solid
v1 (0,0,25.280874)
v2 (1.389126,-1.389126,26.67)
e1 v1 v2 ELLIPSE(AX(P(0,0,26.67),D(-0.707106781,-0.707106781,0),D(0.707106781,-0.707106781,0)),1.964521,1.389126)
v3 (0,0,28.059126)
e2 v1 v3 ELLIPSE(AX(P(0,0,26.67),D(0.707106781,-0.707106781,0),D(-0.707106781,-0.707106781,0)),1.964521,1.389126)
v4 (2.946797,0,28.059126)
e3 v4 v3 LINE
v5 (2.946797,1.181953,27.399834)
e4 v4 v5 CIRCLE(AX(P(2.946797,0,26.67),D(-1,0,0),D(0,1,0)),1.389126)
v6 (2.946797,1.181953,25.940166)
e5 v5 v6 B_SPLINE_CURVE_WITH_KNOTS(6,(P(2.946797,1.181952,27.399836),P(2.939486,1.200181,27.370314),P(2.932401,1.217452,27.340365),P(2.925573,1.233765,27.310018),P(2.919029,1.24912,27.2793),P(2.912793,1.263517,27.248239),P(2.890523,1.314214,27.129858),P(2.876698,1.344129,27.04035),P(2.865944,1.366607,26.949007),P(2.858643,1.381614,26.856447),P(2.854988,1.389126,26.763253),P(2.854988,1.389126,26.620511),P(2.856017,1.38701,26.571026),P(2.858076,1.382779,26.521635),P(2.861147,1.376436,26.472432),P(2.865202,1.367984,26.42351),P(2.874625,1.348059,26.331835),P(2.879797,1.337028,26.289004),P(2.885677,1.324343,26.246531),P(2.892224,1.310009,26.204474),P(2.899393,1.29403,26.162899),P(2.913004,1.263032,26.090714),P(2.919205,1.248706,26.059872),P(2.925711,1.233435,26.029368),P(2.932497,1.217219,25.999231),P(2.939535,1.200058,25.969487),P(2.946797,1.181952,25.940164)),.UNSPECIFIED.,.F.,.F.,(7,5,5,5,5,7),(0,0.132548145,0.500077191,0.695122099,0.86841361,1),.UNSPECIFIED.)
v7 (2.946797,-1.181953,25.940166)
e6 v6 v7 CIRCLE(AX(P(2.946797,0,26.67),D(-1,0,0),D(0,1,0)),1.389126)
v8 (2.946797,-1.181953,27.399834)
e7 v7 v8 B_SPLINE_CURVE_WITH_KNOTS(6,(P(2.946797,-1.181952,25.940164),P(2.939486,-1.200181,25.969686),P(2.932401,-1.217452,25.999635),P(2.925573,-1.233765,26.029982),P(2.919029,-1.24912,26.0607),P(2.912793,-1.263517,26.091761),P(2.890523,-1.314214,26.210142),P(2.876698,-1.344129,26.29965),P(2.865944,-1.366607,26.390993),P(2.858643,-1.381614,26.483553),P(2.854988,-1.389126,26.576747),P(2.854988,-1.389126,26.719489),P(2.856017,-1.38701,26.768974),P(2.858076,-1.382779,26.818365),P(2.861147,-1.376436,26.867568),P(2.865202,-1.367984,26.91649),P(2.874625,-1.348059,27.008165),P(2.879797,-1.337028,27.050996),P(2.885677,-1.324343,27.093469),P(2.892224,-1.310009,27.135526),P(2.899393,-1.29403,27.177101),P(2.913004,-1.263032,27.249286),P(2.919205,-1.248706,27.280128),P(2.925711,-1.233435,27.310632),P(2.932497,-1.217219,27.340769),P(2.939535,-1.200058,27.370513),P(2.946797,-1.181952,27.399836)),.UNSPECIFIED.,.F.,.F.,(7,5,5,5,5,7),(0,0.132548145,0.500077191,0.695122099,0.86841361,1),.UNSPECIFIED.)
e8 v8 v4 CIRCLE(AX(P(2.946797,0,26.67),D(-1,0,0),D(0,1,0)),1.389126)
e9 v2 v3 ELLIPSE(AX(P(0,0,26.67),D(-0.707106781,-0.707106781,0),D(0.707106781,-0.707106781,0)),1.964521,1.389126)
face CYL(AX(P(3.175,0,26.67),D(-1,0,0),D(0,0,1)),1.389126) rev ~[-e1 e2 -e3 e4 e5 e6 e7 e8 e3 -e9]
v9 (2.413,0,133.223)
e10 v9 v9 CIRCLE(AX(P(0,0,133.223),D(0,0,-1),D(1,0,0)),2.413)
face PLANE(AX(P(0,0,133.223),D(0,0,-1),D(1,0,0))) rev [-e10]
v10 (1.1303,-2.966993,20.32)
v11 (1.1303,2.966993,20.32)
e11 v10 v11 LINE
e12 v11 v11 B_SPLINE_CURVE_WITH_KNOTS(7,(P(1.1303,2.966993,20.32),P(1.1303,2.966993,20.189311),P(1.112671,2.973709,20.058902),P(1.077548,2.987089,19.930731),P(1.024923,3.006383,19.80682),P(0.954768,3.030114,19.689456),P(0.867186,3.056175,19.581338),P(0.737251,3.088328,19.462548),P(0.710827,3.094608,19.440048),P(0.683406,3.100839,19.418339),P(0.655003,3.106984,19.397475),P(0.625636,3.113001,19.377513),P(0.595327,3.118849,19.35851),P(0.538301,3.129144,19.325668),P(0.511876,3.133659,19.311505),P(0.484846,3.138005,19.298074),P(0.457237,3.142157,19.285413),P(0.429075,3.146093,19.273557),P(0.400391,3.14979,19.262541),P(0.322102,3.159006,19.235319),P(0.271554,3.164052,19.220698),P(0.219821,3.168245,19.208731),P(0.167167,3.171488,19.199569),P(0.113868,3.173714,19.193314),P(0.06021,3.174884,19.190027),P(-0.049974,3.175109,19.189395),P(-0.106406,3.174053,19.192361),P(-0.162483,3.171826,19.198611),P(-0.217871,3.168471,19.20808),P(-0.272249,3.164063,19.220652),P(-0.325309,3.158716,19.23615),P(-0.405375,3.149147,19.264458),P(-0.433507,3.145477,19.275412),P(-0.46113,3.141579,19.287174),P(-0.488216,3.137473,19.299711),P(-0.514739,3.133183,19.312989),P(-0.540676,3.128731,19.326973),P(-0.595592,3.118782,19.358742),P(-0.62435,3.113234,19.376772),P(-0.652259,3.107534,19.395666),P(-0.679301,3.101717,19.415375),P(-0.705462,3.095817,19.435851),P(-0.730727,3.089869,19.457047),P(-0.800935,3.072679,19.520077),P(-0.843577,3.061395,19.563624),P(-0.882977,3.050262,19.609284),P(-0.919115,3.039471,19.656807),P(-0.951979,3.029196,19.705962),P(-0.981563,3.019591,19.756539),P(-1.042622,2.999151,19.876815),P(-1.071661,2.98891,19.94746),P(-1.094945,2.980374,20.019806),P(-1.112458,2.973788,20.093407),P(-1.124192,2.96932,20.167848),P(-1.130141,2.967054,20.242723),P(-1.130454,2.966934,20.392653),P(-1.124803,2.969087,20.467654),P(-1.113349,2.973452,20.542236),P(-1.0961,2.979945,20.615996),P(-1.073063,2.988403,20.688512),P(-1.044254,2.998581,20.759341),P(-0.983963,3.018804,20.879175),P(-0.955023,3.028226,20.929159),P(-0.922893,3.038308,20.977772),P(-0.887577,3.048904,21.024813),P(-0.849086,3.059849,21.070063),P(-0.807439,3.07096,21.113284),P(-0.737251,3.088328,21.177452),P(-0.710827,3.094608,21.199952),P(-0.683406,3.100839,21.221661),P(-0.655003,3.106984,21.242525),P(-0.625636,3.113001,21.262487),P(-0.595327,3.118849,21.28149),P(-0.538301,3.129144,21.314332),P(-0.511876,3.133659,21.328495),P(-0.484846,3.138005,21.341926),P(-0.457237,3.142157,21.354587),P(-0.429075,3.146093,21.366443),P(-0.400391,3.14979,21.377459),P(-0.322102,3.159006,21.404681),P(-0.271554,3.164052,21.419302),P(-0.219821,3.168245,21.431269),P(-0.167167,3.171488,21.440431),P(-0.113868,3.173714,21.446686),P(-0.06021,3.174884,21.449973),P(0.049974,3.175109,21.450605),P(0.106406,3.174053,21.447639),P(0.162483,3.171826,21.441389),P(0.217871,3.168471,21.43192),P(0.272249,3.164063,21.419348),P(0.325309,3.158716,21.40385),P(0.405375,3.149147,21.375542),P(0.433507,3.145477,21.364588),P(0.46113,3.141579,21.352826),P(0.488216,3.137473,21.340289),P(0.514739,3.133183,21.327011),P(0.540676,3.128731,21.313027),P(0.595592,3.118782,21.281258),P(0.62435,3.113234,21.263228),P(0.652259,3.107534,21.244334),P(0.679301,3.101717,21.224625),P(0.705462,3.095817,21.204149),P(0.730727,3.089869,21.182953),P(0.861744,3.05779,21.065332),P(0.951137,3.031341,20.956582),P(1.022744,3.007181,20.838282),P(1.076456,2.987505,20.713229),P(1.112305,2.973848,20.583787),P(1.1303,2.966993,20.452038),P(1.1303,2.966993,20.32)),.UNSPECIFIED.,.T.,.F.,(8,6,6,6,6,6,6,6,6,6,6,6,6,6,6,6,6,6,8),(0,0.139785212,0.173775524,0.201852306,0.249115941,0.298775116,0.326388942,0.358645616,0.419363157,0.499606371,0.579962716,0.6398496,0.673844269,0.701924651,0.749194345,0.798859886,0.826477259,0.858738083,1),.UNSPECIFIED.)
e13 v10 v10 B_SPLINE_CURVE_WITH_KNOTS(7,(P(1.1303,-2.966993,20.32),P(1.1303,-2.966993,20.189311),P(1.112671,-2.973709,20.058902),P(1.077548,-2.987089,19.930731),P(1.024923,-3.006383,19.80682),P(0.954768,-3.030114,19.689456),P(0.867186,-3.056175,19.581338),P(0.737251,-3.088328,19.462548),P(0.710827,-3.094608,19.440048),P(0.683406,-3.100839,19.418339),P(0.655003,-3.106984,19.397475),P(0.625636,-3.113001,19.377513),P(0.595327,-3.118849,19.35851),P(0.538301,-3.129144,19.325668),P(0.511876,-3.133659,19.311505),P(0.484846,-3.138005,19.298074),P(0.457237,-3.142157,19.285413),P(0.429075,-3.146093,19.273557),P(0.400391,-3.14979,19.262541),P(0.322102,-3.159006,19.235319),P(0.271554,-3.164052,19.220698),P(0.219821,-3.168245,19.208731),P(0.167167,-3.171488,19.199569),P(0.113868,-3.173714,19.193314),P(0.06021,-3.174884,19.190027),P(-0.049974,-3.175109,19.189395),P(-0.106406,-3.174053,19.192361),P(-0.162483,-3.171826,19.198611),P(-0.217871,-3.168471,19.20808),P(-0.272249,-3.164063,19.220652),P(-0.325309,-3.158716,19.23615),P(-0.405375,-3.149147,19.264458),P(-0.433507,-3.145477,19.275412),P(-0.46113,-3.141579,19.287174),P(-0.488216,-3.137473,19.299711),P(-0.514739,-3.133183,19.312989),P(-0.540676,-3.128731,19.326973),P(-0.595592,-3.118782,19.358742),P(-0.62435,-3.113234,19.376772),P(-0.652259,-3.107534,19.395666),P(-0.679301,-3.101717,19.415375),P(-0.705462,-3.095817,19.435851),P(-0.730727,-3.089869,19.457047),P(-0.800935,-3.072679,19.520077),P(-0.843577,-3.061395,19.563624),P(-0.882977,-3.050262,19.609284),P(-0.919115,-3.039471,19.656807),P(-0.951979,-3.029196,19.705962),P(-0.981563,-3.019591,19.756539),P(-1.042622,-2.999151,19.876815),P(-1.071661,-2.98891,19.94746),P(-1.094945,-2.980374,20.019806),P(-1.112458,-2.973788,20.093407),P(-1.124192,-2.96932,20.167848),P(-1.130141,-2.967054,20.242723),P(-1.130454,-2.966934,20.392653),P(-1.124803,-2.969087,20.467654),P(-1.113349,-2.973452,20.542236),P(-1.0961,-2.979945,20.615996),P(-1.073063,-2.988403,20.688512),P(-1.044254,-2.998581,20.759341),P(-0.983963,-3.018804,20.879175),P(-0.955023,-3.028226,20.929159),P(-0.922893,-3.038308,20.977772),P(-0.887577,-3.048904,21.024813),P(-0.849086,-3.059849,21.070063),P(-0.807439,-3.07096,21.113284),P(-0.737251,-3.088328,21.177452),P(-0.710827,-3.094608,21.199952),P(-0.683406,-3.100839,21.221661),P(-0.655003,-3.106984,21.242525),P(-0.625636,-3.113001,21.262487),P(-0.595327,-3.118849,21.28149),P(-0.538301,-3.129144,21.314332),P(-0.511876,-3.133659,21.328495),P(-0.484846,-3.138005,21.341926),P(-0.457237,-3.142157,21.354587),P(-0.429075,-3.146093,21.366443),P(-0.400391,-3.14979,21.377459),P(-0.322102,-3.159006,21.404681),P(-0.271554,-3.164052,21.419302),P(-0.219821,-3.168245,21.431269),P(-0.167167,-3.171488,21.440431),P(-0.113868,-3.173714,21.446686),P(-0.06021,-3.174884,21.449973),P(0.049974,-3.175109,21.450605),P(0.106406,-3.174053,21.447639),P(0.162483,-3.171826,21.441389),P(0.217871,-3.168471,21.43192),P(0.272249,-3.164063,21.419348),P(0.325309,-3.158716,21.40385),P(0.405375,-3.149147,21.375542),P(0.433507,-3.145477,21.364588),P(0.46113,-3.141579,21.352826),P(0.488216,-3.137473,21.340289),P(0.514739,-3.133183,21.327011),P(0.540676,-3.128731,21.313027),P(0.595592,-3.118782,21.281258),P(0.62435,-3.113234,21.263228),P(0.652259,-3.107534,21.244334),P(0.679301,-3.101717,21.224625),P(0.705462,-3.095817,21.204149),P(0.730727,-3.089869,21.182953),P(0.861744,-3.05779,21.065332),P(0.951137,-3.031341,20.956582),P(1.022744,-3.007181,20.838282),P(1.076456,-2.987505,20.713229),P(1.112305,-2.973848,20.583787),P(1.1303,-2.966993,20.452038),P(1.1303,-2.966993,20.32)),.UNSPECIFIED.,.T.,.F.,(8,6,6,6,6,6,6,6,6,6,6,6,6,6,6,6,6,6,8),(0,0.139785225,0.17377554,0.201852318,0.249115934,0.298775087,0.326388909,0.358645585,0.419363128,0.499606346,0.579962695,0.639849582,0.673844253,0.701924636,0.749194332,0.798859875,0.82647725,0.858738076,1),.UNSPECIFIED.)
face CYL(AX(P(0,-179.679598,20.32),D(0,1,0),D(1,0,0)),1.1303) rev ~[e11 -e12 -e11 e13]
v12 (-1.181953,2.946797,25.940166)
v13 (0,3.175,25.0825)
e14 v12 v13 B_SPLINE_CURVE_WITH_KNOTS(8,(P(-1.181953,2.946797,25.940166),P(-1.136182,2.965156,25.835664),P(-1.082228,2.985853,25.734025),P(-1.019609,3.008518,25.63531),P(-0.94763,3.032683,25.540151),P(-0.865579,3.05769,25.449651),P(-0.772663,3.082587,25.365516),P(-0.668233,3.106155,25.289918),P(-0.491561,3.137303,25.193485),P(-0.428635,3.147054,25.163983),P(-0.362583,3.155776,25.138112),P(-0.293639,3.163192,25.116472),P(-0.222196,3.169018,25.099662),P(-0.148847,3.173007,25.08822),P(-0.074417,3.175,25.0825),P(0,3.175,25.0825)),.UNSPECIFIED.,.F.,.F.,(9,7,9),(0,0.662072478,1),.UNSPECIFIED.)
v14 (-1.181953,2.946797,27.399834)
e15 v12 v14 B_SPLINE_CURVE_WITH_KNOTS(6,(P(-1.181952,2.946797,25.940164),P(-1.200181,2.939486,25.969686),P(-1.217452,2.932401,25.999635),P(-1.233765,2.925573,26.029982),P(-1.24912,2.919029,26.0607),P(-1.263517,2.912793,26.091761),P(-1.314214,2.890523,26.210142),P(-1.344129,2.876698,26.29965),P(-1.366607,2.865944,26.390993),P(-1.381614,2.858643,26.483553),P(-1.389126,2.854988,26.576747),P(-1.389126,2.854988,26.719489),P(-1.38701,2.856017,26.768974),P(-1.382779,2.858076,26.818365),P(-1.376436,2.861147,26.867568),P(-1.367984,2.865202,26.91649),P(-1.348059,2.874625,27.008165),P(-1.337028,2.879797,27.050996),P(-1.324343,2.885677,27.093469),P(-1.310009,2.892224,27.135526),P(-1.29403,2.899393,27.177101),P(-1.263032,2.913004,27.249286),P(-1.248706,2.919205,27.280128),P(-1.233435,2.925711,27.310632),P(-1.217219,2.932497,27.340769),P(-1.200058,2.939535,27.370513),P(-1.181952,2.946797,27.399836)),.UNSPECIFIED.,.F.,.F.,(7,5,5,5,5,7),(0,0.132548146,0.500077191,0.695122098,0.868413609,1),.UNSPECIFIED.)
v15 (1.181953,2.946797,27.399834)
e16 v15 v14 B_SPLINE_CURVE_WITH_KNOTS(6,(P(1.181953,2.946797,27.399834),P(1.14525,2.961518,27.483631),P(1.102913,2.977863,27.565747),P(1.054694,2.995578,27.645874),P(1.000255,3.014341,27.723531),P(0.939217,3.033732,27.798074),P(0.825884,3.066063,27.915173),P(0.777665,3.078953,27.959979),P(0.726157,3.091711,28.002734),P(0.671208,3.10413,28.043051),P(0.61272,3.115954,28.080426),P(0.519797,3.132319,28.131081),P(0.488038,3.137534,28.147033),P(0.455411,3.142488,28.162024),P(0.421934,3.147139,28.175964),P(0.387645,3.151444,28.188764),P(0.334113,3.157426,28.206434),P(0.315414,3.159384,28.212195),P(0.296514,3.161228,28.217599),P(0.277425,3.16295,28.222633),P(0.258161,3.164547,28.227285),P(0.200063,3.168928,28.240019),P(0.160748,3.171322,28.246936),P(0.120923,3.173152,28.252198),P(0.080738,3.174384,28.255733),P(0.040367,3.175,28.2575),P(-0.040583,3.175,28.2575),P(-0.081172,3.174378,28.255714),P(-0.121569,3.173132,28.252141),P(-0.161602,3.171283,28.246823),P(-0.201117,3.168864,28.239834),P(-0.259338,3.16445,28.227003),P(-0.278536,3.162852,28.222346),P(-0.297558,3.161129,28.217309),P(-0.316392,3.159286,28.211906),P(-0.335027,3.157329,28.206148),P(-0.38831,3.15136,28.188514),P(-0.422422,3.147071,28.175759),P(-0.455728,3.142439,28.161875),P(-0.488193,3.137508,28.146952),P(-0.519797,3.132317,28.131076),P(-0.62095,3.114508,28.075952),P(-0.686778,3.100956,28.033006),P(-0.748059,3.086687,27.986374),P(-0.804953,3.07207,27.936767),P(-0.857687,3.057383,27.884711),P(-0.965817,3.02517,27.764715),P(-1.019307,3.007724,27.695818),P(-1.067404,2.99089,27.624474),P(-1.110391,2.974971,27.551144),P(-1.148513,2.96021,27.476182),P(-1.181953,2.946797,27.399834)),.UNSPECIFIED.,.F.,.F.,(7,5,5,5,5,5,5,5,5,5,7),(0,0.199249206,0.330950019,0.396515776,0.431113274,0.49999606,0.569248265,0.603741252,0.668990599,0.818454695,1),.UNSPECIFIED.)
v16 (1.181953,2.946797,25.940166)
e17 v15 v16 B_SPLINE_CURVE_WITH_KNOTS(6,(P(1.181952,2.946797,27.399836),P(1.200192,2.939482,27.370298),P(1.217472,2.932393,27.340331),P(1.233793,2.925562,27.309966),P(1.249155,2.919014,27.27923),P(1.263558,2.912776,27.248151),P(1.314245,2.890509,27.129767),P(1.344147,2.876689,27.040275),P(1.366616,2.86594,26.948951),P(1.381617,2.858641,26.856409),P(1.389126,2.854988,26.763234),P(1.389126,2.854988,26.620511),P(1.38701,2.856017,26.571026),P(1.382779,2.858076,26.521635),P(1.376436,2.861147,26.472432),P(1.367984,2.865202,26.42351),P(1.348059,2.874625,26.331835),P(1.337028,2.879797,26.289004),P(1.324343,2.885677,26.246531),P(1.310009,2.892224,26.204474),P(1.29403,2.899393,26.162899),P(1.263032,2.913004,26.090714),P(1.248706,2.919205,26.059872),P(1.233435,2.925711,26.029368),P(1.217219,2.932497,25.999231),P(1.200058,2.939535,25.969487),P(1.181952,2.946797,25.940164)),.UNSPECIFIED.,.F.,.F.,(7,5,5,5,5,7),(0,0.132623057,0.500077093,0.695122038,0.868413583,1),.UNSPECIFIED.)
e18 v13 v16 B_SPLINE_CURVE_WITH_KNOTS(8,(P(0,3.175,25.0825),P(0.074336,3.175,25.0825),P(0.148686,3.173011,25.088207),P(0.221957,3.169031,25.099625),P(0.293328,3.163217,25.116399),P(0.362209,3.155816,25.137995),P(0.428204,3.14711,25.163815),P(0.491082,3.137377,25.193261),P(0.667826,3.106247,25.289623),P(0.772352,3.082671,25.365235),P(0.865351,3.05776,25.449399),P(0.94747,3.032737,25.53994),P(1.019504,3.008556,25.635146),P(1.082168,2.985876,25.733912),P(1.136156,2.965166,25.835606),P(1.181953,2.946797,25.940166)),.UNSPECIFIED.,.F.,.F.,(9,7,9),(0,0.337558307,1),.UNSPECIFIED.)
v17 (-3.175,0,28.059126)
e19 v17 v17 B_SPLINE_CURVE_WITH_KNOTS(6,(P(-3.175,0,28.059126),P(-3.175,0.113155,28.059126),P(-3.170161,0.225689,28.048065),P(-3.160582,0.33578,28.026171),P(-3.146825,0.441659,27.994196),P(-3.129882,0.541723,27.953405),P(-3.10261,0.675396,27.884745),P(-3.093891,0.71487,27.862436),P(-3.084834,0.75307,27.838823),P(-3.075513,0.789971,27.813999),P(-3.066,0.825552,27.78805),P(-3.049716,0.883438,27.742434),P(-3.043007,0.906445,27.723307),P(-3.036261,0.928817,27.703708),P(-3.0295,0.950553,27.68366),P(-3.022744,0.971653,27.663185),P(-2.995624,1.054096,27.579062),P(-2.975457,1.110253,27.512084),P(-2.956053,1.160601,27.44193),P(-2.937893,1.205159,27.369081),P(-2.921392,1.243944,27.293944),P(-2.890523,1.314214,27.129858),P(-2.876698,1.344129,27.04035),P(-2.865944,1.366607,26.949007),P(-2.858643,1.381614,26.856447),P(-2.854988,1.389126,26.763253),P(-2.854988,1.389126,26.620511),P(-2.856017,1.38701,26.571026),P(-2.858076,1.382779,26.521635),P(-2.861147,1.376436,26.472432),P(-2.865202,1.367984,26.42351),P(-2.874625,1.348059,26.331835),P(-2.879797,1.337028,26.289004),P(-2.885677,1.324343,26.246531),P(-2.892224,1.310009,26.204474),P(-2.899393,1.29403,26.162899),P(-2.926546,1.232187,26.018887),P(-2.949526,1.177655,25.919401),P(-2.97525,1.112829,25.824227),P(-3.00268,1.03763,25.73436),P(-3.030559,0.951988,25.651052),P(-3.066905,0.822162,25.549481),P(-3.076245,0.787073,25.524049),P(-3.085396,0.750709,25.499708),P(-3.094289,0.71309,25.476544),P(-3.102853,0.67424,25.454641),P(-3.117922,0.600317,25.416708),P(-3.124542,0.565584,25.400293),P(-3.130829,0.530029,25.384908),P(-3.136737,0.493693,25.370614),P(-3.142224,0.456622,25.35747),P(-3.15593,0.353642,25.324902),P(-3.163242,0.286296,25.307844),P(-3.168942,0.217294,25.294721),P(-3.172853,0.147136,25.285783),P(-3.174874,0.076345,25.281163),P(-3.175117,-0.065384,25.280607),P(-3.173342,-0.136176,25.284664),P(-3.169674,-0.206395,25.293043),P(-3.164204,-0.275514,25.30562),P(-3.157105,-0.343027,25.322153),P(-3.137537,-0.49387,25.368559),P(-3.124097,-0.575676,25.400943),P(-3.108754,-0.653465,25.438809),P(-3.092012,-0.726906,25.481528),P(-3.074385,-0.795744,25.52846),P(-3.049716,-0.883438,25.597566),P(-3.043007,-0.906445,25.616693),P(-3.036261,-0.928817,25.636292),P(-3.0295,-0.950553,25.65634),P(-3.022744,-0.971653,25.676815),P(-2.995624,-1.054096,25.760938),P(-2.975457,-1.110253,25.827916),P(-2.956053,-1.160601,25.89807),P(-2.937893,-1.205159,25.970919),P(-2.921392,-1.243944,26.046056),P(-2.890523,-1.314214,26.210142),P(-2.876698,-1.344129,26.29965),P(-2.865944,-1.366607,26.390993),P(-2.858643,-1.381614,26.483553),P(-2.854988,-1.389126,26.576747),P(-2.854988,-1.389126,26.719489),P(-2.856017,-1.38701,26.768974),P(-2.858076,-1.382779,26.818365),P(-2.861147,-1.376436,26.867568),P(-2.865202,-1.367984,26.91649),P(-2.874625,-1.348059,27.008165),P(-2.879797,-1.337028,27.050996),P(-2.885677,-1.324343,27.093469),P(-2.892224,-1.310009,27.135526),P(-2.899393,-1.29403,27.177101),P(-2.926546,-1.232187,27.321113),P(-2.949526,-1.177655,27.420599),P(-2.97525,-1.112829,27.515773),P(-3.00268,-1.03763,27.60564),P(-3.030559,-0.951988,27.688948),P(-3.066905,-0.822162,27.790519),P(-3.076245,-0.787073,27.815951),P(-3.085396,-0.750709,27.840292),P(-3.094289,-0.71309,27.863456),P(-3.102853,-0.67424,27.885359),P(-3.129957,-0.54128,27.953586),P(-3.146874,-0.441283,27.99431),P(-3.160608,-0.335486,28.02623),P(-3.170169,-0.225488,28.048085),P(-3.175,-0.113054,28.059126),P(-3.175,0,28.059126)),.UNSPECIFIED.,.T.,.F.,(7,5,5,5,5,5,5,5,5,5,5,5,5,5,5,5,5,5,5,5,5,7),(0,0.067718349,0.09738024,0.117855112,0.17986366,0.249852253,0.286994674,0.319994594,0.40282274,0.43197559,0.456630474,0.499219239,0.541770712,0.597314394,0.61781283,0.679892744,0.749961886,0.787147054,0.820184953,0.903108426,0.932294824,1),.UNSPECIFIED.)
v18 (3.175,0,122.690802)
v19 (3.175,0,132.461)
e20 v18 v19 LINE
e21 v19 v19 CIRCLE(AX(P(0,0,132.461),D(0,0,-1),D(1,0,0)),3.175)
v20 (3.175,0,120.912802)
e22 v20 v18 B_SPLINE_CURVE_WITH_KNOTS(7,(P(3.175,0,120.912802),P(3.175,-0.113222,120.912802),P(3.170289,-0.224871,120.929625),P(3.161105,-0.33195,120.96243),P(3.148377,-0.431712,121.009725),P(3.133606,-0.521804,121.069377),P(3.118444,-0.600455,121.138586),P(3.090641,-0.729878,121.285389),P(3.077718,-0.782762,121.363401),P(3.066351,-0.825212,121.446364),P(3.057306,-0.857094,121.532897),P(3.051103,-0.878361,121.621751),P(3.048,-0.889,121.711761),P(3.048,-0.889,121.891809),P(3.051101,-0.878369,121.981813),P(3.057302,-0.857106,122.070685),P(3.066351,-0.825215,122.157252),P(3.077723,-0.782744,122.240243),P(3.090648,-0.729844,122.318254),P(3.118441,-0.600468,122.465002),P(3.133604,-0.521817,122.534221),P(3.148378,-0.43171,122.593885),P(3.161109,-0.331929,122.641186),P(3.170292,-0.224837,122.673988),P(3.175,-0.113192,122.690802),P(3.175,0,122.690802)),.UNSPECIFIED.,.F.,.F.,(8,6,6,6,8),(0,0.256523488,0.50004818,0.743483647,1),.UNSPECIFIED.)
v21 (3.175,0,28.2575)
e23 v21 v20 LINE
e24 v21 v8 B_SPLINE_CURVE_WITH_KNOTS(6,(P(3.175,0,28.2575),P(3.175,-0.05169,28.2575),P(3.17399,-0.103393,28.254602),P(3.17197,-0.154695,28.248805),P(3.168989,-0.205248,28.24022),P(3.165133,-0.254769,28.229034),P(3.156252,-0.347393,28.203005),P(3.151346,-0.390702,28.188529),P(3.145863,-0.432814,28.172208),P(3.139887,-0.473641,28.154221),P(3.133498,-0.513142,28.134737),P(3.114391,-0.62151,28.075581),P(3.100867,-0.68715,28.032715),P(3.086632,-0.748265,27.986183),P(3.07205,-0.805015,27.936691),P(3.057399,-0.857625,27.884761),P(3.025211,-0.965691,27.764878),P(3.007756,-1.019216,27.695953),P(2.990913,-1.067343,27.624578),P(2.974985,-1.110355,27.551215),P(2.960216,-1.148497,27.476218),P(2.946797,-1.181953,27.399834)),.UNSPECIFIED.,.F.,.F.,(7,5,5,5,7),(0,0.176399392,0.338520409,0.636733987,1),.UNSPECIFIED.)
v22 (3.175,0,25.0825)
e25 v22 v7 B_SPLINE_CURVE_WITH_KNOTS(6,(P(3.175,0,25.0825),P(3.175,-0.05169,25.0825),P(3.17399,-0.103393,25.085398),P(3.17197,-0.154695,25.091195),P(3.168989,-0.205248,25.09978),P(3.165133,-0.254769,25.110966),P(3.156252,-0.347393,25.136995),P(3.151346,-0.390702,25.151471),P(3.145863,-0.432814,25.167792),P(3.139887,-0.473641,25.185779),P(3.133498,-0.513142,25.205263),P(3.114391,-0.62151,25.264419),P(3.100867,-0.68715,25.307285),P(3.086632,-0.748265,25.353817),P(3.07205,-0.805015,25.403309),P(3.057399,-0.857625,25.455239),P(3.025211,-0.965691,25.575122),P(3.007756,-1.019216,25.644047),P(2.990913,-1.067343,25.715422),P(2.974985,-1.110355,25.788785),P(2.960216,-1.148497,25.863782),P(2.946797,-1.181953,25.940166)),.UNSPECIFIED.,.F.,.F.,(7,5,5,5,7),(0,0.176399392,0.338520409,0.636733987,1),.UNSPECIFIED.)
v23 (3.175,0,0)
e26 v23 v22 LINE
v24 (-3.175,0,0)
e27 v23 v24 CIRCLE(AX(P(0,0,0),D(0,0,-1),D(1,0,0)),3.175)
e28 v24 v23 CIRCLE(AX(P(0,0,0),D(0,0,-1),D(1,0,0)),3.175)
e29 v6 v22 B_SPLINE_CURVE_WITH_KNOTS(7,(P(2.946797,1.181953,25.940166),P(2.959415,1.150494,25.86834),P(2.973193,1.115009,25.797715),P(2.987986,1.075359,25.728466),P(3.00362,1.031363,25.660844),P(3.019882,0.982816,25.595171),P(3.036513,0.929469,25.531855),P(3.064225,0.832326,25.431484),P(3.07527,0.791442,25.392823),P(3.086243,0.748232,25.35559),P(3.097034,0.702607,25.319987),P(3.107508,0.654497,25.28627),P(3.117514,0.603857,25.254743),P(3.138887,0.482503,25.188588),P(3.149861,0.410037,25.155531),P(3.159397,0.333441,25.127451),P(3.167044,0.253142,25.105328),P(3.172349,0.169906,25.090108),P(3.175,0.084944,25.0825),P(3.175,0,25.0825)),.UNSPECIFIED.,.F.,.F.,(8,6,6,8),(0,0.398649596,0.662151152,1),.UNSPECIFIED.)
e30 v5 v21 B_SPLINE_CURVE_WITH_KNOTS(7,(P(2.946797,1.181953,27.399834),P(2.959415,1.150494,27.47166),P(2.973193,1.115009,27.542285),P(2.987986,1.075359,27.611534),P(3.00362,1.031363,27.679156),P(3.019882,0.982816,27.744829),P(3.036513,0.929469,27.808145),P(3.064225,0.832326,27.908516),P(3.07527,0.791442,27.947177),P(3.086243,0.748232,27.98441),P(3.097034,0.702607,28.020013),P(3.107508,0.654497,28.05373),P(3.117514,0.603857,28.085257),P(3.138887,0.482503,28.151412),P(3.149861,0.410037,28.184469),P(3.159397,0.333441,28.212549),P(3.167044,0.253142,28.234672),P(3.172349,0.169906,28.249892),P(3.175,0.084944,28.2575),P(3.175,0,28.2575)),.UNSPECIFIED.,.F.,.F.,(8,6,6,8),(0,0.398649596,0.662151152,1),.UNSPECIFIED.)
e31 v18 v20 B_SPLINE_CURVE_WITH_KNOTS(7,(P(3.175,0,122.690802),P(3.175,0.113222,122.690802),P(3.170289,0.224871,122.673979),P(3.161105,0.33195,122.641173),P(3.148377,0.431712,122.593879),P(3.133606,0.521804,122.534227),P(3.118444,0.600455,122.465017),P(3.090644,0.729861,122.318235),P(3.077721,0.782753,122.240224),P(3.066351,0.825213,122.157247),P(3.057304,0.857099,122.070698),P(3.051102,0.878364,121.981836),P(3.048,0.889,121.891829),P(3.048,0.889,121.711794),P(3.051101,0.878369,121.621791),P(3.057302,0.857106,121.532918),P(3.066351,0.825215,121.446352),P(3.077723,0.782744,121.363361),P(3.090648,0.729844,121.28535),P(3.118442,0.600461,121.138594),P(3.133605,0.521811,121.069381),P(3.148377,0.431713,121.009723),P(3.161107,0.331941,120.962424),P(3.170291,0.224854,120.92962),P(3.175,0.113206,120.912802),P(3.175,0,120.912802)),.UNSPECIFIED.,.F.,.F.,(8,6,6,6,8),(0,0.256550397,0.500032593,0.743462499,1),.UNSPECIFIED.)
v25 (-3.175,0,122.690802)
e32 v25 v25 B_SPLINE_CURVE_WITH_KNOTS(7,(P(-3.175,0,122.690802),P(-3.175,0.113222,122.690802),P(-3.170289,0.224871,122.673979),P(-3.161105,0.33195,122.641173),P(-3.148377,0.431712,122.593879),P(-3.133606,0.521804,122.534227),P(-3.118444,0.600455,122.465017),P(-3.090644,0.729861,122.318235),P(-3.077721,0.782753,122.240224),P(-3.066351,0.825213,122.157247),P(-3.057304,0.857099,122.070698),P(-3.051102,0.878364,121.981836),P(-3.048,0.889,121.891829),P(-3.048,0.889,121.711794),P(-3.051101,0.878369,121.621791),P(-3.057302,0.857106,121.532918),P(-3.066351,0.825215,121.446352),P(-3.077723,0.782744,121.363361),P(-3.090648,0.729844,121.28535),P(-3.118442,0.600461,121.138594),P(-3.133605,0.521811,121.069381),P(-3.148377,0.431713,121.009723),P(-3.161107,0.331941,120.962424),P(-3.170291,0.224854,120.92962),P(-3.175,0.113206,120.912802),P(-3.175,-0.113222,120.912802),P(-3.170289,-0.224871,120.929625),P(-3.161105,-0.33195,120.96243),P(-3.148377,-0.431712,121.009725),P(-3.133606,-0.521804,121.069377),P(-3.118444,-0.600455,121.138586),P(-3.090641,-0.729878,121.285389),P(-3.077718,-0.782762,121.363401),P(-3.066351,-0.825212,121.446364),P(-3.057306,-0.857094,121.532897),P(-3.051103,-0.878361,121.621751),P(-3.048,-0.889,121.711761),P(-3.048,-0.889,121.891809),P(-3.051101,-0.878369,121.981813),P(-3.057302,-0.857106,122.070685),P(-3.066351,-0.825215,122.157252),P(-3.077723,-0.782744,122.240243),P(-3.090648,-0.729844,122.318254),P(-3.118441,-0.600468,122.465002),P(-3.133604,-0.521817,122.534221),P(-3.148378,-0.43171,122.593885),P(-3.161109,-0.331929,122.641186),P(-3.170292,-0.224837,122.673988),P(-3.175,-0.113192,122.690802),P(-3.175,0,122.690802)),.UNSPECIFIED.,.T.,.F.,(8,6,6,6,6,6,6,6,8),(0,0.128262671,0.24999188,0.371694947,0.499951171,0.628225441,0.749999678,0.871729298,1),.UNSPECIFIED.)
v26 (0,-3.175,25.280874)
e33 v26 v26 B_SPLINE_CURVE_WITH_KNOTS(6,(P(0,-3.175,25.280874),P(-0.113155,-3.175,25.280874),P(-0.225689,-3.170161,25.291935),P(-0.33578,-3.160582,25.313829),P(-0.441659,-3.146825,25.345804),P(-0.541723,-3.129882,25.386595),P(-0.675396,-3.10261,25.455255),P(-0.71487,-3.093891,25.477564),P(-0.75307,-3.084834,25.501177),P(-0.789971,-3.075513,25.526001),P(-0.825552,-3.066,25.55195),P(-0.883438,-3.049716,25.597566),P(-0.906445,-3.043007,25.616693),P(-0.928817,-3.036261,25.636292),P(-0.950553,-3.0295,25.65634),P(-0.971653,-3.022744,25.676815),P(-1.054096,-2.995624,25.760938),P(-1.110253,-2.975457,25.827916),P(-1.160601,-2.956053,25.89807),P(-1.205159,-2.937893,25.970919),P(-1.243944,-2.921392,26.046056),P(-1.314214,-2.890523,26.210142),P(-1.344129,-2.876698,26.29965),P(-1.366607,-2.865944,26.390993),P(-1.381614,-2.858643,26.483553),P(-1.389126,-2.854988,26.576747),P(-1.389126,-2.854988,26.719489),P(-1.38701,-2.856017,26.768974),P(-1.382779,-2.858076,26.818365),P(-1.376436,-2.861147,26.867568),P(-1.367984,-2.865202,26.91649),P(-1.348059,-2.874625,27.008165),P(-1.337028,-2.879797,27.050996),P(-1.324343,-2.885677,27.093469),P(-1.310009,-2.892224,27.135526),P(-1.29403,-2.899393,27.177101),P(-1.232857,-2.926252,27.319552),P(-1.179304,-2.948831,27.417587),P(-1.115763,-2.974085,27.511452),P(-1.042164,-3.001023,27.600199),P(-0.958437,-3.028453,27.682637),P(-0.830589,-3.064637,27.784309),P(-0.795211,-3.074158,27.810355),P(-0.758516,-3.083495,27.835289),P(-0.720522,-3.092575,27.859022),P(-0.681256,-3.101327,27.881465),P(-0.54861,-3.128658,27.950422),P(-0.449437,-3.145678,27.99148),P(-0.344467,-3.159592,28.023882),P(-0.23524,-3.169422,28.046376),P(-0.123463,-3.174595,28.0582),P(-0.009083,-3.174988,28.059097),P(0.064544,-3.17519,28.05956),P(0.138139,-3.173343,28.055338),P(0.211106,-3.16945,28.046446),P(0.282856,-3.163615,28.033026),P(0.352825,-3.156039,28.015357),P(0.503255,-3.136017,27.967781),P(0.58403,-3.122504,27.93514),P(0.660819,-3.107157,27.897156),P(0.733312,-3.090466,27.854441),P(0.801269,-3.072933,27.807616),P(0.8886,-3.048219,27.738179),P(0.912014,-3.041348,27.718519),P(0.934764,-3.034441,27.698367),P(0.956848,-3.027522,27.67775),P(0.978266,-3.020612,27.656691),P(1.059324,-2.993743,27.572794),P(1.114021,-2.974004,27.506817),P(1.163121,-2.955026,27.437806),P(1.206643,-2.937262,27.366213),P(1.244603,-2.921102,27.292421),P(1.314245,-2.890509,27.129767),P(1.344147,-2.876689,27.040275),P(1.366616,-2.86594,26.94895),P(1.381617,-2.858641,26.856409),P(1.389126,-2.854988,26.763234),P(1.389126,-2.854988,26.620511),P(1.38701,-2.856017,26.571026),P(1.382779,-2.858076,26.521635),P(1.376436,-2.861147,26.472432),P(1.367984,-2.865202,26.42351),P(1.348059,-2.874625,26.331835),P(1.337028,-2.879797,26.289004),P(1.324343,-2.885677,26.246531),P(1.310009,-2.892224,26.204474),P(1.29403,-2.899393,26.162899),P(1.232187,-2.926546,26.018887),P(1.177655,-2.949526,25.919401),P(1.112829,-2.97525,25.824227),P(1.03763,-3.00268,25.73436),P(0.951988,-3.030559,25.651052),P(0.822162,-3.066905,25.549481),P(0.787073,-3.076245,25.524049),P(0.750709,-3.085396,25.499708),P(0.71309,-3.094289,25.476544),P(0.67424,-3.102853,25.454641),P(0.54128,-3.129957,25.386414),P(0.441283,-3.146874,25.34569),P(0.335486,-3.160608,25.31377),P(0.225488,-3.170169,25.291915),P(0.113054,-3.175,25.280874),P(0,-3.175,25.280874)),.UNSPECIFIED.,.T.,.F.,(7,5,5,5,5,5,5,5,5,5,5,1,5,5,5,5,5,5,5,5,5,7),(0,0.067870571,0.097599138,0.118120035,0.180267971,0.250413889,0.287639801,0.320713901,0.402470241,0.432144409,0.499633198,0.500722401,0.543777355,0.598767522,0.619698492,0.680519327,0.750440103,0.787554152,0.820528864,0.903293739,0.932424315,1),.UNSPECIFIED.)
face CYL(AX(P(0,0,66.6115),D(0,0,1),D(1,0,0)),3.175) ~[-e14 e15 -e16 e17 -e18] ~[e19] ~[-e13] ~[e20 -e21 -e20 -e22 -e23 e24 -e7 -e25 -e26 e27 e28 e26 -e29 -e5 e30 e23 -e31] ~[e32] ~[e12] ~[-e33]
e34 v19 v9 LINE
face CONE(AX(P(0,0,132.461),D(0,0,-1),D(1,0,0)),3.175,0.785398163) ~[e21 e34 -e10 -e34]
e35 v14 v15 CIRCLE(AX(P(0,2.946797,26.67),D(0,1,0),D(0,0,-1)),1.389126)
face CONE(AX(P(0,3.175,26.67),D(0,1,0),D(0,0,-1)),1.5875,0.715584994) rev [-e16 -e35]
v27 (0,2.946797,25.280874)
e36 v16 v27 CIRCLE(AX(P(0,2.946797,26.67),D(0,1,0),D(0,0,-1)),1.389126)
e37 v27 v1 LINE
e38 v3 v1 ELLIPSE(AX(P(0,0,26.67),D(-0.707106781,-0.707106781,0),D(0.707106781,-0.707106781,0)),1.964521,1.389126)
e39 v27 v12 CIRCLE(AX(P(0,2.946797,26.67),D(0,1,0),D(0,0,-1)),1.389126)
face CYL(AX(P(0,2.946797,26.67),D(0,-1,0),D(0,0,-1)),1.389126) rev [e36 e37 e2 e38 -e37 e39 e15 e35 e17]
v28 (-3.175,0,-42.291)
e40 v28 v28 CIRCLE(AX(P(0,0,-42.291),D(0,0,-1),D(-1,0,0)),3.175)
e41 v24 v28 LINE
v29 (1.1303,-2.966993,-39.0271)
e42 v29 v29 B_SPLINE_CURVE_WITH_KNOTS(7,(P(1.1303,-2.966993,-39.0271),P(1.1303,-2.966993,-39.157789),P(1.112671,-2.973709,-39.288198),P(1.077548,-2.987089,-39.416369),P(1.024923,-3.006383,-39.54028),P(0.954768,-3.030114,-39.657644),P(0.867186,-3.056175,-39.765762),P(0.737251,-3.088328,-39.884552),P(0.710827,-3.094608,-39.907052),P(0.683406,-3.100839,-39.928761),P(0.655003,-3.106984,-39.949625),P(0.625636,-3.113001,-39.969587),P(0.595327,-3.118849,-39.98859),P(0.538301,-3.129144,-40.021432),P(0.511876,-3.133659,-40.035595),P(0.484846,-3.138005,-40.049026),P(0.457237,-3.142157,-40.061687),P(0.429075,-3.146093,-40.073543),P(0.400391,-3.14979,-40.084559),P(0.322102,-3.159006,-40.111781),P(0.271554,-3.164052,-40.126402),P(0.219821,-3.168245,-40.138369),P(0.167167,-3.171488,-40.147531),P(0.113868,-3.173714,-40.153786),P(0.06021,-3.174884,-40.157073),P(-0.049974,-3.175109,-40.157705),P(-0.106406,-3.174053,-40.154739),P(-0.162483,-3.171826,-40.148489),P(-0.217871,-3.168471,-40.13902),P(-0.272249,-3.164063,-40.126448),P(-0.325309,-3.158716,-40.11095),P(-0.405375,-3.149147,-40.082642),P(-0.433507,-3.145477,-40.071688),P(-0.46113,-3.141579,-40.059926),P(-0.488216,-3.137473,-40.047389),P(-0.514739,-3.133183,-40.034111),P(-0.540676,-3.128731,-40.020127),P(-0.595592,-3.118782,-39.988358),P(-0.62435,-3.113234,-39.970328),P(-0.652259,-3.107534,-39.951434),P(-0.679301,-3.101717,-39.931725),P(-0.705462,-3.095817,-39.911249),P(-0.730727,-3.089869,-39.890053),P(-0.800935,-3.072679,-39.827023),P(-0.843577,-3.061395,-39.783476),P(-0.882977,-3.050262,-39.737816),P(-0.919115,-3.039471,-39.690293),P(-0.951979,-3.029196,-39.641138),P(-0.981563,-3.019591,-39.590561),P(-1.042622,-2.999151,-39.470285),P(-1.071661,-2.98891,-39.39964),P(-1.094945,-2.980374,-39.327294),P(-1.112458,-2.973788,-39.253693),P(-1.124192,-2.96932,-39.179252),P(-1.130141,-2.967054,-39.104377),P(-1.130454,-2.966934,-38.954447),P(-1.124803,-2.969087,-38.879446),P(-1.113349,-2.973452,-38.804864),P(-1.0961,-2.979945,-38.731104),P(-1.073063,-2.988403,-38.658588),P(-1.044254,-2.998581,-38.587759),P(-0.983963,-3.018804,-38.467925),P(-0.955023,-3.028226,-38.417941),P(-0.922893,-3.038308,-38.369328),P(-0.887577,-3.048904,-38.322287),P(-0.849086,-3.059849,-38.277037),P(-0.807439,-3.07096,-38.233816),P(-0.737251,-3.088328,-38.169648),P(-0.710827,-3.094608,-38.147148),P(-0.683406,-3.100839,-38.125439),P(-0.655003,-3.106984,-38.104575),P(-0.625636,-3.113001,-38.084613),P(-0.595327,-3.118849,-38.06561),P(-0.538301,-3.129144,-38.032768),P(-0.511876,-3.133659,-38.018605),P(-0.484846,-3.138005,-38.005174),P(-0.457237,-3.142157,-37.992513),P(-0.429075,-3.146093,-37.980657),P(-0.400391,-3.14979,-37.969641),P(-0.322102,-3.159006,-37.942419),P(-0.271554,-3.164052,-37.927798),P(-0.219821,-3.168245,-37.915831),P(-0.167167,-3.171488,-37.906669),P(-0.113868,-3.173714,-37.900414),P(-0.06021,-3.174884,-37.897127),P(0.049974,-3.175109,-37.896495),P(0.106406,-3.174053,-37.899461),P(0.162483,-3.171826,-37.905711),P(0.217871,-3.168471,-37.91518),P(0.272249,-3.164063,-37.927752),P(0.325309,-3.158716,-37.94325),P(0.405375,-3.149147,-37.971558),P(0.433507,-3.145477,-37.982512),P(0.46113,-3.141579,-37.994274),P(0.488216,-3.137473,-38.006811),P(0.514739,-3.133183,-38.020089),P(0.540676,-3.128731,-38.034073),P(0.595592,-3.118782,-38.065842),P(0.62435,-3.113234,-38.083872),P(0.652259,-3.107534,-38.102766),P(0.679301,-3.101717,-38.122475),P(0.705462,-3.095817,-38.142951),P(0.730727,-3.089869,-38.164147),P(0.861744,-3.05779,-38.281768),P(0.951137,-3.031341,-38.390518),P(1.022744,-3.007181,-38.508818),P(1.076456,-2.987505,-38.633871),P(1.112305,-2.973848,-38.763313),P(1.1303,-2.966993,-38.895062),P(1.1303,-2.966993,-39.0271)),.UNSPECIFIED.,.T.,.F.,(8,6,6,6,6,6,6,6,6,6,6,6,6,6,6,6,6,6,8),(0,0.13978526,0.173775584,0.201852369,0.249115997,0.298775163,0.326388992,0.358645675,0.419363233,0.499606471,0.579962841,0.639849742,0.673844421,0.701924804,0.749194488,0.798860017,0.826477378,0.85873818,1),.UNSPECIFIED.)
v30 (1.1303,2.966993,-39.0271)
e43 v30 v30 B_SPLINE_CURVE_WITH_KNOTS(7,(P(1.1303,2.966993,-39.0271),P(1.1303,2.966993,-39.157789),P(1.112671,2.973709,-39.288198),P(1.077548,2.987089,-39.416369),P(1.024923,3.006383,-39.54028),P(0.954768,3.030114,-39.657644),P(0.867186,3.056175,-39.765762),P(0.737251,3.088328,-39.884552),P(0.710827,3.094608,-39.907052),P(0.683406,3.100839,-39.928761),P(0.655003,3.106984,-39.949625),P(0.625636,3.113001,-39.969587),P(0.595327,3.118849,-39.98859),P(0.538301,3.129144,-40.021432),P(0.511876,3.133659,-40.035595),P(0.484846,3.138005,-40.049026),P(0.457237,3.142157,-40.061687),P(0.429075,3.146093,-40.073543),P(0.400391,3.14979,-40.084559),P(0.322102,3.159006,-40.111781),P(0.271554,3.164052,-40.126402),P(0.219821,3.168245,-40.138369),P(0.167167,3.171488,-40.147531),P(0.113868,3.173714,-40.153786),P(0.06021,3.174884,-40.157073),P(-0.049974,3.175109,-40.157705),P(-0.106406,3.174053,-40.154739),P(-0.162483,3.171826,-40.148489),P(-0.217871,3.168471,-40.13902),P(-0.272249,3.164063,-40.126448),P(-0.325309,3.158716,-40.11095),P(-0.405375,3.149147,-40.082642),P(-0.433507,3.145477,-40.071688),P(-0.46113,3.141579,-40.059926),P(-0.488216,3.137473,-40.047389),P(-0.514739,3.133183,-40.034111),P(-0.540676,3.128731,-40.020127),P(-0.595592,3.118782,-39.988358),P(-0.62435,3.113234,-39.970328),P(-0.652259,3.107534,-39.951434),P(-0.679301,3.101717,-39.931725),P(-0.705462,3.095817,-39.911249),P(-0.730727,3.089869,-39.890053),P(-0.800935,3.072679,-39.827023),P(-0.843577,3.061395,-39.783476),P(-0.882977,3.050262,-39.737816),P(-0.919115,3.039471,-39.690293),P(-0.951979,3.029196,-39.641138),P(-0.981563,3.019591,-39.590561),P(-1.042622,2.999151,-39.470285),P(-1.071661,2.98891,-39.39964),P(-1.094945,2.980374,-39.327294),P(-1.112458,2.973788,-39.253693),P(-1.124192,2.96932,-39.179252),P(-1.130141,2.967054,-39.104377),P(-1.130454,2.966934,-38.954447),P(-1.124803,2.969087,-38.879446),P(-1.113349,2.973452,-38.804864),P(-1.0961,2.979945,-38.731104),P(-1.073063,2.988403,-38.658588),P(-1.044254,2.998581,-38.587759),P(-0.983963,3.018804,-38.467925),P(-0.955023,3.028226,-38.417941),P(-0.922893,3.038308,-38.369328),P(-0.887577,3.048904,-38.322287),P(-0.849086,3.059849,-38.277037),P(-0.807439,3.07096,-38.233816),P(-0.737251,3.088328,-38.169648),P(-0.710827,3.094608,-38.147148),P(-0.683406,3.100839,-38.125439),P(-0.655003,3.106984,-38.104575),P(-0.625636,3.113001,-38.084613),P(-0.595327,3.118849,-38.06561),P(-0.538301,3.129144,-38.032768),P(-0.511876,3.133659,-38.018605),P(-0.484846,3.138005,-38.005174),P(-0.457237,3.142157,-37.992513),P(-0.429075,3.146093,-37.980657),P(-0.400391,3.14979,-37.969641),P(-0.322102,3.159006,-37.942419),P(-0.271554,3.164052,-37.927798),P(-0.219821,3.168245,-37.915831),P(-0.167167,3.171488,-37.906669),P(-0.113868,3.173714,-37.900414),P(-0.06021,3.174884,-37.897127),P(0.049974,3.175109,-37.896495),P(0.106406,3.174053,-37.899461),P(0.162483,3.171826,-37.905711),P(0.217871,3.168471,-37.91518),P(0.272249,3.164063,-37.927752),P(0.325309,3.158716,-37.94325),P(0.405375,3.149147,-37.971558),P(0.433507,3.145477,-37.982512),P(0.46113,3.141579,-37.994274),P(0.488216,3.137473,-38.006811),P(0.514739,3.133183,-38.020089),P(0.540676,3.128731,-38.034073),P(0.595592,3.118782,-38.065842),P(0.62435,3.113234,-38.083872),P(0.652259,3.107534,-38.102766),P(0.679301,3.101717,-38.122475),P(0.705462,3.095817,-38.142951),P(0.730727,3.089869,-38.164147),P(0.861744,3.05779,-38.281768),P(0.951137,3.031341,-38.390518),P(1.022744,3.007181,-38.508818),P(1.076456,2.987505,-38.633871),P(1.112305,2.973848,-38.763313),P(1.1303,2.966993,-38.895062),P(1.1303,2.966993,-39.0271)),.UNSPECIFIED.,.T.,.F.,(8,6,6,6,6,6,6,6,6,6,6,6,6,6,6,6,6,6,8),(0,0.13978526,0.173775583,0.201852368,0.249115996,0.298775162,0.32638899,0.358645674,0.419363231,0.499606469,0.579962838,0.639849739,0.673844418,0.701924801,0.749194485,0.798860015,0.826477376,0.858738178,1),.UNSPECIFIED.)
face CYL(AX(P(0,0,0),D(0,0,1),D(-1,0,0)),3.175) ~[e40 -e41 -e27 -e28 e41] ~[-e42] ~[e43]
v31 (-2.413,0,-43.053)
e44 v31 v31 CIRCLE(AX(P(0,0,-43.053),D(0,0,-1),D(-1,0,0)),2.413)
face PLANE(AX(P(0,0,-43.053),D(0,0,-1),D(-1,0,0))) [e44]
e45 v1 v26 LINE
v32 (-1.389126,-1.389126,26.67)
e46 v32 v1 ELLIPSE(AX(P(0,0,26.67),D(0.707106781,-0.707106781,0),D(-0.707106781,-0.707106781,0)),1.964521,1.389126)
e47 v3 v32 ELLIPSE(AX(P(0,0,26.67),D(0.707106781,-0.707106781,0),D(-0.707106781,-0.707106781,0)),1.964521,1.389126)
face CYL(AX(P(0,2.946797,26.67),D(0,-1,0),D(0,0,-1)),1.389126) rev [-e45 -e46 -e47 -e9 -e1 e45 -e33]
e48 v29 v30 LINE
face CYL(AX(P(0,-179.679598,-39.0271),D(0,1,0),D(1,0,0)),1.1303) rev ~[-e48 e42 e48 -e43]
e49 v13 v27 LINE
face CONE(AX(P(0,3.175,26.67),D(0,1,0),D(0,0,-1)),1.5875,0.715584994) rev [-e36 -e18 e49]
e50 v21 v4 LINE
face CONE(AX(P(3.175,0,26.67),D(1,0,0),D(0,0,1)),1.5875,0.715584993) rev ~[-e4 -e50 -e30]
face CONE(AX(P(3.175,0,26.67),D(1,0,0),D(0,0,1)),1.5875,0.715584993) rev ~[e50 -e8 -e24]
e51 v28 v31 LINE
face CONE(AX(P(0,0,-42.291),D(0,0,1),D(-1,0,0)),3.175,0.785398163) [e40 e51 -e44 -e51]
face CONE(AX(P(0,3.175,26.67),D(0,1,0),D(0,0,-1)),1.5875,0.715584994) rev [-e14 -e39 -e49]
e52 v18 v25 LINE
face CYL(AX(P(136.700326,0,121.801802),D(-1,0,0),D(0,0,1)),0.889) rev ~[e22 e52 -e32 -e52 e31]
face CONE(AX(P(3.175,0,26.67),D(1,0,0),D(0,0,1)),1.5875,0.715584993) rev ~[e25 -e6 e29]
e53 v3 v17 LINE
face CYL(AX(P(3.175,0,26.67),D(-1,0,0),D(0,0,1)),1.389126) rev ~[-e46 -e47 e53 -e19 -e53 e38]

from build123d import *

# Parameters (mm, degrees)
SKETCH1_W                                 = 3.175
SKETCH1_H                                 = 133.223
F_2_56_TAPPED_HOLE1_D                     = 1.778
SKETCH4_R                                 = 3.175
BOSS_EXTRUDE1_DEPTH                       = 43.053
CHAMFER1_SIZE                             = 0.762
F_4_40_TAPPED_HOLE2_D                     = 2.2606
F_7_64_0_10938_DIAMETER_HOLE2_D           = 2.778252
F_7_64_0_10938_DIAMETER_HOLE2_CSINK_D     = 3.175
F_7_64_0_10938_DIAMETER_HOLE2_CSINK_ANGLE = 82


with BuildPart() as part:
    # Sketch1 → Revolve1 (revolve)
    with BuildSketch(Plane.XZ):
        with Locations((1.5875, 66.6115)):
            Rectangle(SKETCH1_W, SKETCH1_H)
    revolve(axis=Axis((0, 0, 133.223), (0, 0, -1)))

    # #2-56 Tapped Hole1 (through all)
    with Locations(Plane(origin=(3.175, 0, 0), x_dir=(0, 0, -1), z_dir=(1, 0, 0))):
        with Locations((-121.801801862, 0)):
            Hole(F_2_56_TAPPED_HOLE1_D / 2)

    # Sketch4 → Boss-Extrude1 (add)
    with BuildSketch(Plane(origin=(0, 0, 0), x_dir=(-1, 0, 0), z_dir=(0, 0, -1))):
        Circle(SKETCH4_R)
    extrude(amount=BOSS_EXTRUDE1_DEPTH)

    # Chamfer1
    chamfer1_edges = [part.edges().sort_by_distance(p)[0] for p in [
        (3.175, 0, -43.053),
        (-3.175, 0, 133.223),
    ]]
    chamfer(chamfer1_edges, length=CHAMFER1_SIZE)

    # #4-40 Tapped Hole2 (through all)
    with Locations(Plane(origin=(0, -3.175, 0), x_dir=(-1, 0, 0), z_dir=(0, -1, 0))):
        with Locations((0, -20.32), (0, 39.0271)):
            Hole(F_4_40_TAPPED_HOLE2_D / 2)

    # Sketch10 → 7/64 (0.10938) Diameter Hole1 (revolve, cut)
    with BuildSketch(Plane(origin=(0, -3.175, 26.67), x_dir=(0, 0, -1), z_dir=(1, 0, 0))):
        Polygon((0, 0), (0, 6.35), (1.5875, 6.35), (1.389126, 6.121796818), (1.389126, 0), align=None)
    revolve(axis=Axis((0, -9.525, 26.67), (0, 1, 0)), mode=Mode.SUBTRACT)

    # 7/64 (0.10938) Diameter Hole2 (through all)
    with Locations(Plane(origin=(3.175, 0, 0), x_dir=(0, 0, -1), z_dir=(1, 0, 0))):
        with Locations((-26.67, 0)):
            CounterSinkHole(F_7_64_0_10938_DIAMETER_HOLE2_D / 2, F_7_64_0_10938_DIAMETER_HOLE2_CSINK_D / 2, counter_sink_angle=F_7_64_0_10938_DIAMETER_HOLE2_CSINK_ANGLE)


solid = part.part
